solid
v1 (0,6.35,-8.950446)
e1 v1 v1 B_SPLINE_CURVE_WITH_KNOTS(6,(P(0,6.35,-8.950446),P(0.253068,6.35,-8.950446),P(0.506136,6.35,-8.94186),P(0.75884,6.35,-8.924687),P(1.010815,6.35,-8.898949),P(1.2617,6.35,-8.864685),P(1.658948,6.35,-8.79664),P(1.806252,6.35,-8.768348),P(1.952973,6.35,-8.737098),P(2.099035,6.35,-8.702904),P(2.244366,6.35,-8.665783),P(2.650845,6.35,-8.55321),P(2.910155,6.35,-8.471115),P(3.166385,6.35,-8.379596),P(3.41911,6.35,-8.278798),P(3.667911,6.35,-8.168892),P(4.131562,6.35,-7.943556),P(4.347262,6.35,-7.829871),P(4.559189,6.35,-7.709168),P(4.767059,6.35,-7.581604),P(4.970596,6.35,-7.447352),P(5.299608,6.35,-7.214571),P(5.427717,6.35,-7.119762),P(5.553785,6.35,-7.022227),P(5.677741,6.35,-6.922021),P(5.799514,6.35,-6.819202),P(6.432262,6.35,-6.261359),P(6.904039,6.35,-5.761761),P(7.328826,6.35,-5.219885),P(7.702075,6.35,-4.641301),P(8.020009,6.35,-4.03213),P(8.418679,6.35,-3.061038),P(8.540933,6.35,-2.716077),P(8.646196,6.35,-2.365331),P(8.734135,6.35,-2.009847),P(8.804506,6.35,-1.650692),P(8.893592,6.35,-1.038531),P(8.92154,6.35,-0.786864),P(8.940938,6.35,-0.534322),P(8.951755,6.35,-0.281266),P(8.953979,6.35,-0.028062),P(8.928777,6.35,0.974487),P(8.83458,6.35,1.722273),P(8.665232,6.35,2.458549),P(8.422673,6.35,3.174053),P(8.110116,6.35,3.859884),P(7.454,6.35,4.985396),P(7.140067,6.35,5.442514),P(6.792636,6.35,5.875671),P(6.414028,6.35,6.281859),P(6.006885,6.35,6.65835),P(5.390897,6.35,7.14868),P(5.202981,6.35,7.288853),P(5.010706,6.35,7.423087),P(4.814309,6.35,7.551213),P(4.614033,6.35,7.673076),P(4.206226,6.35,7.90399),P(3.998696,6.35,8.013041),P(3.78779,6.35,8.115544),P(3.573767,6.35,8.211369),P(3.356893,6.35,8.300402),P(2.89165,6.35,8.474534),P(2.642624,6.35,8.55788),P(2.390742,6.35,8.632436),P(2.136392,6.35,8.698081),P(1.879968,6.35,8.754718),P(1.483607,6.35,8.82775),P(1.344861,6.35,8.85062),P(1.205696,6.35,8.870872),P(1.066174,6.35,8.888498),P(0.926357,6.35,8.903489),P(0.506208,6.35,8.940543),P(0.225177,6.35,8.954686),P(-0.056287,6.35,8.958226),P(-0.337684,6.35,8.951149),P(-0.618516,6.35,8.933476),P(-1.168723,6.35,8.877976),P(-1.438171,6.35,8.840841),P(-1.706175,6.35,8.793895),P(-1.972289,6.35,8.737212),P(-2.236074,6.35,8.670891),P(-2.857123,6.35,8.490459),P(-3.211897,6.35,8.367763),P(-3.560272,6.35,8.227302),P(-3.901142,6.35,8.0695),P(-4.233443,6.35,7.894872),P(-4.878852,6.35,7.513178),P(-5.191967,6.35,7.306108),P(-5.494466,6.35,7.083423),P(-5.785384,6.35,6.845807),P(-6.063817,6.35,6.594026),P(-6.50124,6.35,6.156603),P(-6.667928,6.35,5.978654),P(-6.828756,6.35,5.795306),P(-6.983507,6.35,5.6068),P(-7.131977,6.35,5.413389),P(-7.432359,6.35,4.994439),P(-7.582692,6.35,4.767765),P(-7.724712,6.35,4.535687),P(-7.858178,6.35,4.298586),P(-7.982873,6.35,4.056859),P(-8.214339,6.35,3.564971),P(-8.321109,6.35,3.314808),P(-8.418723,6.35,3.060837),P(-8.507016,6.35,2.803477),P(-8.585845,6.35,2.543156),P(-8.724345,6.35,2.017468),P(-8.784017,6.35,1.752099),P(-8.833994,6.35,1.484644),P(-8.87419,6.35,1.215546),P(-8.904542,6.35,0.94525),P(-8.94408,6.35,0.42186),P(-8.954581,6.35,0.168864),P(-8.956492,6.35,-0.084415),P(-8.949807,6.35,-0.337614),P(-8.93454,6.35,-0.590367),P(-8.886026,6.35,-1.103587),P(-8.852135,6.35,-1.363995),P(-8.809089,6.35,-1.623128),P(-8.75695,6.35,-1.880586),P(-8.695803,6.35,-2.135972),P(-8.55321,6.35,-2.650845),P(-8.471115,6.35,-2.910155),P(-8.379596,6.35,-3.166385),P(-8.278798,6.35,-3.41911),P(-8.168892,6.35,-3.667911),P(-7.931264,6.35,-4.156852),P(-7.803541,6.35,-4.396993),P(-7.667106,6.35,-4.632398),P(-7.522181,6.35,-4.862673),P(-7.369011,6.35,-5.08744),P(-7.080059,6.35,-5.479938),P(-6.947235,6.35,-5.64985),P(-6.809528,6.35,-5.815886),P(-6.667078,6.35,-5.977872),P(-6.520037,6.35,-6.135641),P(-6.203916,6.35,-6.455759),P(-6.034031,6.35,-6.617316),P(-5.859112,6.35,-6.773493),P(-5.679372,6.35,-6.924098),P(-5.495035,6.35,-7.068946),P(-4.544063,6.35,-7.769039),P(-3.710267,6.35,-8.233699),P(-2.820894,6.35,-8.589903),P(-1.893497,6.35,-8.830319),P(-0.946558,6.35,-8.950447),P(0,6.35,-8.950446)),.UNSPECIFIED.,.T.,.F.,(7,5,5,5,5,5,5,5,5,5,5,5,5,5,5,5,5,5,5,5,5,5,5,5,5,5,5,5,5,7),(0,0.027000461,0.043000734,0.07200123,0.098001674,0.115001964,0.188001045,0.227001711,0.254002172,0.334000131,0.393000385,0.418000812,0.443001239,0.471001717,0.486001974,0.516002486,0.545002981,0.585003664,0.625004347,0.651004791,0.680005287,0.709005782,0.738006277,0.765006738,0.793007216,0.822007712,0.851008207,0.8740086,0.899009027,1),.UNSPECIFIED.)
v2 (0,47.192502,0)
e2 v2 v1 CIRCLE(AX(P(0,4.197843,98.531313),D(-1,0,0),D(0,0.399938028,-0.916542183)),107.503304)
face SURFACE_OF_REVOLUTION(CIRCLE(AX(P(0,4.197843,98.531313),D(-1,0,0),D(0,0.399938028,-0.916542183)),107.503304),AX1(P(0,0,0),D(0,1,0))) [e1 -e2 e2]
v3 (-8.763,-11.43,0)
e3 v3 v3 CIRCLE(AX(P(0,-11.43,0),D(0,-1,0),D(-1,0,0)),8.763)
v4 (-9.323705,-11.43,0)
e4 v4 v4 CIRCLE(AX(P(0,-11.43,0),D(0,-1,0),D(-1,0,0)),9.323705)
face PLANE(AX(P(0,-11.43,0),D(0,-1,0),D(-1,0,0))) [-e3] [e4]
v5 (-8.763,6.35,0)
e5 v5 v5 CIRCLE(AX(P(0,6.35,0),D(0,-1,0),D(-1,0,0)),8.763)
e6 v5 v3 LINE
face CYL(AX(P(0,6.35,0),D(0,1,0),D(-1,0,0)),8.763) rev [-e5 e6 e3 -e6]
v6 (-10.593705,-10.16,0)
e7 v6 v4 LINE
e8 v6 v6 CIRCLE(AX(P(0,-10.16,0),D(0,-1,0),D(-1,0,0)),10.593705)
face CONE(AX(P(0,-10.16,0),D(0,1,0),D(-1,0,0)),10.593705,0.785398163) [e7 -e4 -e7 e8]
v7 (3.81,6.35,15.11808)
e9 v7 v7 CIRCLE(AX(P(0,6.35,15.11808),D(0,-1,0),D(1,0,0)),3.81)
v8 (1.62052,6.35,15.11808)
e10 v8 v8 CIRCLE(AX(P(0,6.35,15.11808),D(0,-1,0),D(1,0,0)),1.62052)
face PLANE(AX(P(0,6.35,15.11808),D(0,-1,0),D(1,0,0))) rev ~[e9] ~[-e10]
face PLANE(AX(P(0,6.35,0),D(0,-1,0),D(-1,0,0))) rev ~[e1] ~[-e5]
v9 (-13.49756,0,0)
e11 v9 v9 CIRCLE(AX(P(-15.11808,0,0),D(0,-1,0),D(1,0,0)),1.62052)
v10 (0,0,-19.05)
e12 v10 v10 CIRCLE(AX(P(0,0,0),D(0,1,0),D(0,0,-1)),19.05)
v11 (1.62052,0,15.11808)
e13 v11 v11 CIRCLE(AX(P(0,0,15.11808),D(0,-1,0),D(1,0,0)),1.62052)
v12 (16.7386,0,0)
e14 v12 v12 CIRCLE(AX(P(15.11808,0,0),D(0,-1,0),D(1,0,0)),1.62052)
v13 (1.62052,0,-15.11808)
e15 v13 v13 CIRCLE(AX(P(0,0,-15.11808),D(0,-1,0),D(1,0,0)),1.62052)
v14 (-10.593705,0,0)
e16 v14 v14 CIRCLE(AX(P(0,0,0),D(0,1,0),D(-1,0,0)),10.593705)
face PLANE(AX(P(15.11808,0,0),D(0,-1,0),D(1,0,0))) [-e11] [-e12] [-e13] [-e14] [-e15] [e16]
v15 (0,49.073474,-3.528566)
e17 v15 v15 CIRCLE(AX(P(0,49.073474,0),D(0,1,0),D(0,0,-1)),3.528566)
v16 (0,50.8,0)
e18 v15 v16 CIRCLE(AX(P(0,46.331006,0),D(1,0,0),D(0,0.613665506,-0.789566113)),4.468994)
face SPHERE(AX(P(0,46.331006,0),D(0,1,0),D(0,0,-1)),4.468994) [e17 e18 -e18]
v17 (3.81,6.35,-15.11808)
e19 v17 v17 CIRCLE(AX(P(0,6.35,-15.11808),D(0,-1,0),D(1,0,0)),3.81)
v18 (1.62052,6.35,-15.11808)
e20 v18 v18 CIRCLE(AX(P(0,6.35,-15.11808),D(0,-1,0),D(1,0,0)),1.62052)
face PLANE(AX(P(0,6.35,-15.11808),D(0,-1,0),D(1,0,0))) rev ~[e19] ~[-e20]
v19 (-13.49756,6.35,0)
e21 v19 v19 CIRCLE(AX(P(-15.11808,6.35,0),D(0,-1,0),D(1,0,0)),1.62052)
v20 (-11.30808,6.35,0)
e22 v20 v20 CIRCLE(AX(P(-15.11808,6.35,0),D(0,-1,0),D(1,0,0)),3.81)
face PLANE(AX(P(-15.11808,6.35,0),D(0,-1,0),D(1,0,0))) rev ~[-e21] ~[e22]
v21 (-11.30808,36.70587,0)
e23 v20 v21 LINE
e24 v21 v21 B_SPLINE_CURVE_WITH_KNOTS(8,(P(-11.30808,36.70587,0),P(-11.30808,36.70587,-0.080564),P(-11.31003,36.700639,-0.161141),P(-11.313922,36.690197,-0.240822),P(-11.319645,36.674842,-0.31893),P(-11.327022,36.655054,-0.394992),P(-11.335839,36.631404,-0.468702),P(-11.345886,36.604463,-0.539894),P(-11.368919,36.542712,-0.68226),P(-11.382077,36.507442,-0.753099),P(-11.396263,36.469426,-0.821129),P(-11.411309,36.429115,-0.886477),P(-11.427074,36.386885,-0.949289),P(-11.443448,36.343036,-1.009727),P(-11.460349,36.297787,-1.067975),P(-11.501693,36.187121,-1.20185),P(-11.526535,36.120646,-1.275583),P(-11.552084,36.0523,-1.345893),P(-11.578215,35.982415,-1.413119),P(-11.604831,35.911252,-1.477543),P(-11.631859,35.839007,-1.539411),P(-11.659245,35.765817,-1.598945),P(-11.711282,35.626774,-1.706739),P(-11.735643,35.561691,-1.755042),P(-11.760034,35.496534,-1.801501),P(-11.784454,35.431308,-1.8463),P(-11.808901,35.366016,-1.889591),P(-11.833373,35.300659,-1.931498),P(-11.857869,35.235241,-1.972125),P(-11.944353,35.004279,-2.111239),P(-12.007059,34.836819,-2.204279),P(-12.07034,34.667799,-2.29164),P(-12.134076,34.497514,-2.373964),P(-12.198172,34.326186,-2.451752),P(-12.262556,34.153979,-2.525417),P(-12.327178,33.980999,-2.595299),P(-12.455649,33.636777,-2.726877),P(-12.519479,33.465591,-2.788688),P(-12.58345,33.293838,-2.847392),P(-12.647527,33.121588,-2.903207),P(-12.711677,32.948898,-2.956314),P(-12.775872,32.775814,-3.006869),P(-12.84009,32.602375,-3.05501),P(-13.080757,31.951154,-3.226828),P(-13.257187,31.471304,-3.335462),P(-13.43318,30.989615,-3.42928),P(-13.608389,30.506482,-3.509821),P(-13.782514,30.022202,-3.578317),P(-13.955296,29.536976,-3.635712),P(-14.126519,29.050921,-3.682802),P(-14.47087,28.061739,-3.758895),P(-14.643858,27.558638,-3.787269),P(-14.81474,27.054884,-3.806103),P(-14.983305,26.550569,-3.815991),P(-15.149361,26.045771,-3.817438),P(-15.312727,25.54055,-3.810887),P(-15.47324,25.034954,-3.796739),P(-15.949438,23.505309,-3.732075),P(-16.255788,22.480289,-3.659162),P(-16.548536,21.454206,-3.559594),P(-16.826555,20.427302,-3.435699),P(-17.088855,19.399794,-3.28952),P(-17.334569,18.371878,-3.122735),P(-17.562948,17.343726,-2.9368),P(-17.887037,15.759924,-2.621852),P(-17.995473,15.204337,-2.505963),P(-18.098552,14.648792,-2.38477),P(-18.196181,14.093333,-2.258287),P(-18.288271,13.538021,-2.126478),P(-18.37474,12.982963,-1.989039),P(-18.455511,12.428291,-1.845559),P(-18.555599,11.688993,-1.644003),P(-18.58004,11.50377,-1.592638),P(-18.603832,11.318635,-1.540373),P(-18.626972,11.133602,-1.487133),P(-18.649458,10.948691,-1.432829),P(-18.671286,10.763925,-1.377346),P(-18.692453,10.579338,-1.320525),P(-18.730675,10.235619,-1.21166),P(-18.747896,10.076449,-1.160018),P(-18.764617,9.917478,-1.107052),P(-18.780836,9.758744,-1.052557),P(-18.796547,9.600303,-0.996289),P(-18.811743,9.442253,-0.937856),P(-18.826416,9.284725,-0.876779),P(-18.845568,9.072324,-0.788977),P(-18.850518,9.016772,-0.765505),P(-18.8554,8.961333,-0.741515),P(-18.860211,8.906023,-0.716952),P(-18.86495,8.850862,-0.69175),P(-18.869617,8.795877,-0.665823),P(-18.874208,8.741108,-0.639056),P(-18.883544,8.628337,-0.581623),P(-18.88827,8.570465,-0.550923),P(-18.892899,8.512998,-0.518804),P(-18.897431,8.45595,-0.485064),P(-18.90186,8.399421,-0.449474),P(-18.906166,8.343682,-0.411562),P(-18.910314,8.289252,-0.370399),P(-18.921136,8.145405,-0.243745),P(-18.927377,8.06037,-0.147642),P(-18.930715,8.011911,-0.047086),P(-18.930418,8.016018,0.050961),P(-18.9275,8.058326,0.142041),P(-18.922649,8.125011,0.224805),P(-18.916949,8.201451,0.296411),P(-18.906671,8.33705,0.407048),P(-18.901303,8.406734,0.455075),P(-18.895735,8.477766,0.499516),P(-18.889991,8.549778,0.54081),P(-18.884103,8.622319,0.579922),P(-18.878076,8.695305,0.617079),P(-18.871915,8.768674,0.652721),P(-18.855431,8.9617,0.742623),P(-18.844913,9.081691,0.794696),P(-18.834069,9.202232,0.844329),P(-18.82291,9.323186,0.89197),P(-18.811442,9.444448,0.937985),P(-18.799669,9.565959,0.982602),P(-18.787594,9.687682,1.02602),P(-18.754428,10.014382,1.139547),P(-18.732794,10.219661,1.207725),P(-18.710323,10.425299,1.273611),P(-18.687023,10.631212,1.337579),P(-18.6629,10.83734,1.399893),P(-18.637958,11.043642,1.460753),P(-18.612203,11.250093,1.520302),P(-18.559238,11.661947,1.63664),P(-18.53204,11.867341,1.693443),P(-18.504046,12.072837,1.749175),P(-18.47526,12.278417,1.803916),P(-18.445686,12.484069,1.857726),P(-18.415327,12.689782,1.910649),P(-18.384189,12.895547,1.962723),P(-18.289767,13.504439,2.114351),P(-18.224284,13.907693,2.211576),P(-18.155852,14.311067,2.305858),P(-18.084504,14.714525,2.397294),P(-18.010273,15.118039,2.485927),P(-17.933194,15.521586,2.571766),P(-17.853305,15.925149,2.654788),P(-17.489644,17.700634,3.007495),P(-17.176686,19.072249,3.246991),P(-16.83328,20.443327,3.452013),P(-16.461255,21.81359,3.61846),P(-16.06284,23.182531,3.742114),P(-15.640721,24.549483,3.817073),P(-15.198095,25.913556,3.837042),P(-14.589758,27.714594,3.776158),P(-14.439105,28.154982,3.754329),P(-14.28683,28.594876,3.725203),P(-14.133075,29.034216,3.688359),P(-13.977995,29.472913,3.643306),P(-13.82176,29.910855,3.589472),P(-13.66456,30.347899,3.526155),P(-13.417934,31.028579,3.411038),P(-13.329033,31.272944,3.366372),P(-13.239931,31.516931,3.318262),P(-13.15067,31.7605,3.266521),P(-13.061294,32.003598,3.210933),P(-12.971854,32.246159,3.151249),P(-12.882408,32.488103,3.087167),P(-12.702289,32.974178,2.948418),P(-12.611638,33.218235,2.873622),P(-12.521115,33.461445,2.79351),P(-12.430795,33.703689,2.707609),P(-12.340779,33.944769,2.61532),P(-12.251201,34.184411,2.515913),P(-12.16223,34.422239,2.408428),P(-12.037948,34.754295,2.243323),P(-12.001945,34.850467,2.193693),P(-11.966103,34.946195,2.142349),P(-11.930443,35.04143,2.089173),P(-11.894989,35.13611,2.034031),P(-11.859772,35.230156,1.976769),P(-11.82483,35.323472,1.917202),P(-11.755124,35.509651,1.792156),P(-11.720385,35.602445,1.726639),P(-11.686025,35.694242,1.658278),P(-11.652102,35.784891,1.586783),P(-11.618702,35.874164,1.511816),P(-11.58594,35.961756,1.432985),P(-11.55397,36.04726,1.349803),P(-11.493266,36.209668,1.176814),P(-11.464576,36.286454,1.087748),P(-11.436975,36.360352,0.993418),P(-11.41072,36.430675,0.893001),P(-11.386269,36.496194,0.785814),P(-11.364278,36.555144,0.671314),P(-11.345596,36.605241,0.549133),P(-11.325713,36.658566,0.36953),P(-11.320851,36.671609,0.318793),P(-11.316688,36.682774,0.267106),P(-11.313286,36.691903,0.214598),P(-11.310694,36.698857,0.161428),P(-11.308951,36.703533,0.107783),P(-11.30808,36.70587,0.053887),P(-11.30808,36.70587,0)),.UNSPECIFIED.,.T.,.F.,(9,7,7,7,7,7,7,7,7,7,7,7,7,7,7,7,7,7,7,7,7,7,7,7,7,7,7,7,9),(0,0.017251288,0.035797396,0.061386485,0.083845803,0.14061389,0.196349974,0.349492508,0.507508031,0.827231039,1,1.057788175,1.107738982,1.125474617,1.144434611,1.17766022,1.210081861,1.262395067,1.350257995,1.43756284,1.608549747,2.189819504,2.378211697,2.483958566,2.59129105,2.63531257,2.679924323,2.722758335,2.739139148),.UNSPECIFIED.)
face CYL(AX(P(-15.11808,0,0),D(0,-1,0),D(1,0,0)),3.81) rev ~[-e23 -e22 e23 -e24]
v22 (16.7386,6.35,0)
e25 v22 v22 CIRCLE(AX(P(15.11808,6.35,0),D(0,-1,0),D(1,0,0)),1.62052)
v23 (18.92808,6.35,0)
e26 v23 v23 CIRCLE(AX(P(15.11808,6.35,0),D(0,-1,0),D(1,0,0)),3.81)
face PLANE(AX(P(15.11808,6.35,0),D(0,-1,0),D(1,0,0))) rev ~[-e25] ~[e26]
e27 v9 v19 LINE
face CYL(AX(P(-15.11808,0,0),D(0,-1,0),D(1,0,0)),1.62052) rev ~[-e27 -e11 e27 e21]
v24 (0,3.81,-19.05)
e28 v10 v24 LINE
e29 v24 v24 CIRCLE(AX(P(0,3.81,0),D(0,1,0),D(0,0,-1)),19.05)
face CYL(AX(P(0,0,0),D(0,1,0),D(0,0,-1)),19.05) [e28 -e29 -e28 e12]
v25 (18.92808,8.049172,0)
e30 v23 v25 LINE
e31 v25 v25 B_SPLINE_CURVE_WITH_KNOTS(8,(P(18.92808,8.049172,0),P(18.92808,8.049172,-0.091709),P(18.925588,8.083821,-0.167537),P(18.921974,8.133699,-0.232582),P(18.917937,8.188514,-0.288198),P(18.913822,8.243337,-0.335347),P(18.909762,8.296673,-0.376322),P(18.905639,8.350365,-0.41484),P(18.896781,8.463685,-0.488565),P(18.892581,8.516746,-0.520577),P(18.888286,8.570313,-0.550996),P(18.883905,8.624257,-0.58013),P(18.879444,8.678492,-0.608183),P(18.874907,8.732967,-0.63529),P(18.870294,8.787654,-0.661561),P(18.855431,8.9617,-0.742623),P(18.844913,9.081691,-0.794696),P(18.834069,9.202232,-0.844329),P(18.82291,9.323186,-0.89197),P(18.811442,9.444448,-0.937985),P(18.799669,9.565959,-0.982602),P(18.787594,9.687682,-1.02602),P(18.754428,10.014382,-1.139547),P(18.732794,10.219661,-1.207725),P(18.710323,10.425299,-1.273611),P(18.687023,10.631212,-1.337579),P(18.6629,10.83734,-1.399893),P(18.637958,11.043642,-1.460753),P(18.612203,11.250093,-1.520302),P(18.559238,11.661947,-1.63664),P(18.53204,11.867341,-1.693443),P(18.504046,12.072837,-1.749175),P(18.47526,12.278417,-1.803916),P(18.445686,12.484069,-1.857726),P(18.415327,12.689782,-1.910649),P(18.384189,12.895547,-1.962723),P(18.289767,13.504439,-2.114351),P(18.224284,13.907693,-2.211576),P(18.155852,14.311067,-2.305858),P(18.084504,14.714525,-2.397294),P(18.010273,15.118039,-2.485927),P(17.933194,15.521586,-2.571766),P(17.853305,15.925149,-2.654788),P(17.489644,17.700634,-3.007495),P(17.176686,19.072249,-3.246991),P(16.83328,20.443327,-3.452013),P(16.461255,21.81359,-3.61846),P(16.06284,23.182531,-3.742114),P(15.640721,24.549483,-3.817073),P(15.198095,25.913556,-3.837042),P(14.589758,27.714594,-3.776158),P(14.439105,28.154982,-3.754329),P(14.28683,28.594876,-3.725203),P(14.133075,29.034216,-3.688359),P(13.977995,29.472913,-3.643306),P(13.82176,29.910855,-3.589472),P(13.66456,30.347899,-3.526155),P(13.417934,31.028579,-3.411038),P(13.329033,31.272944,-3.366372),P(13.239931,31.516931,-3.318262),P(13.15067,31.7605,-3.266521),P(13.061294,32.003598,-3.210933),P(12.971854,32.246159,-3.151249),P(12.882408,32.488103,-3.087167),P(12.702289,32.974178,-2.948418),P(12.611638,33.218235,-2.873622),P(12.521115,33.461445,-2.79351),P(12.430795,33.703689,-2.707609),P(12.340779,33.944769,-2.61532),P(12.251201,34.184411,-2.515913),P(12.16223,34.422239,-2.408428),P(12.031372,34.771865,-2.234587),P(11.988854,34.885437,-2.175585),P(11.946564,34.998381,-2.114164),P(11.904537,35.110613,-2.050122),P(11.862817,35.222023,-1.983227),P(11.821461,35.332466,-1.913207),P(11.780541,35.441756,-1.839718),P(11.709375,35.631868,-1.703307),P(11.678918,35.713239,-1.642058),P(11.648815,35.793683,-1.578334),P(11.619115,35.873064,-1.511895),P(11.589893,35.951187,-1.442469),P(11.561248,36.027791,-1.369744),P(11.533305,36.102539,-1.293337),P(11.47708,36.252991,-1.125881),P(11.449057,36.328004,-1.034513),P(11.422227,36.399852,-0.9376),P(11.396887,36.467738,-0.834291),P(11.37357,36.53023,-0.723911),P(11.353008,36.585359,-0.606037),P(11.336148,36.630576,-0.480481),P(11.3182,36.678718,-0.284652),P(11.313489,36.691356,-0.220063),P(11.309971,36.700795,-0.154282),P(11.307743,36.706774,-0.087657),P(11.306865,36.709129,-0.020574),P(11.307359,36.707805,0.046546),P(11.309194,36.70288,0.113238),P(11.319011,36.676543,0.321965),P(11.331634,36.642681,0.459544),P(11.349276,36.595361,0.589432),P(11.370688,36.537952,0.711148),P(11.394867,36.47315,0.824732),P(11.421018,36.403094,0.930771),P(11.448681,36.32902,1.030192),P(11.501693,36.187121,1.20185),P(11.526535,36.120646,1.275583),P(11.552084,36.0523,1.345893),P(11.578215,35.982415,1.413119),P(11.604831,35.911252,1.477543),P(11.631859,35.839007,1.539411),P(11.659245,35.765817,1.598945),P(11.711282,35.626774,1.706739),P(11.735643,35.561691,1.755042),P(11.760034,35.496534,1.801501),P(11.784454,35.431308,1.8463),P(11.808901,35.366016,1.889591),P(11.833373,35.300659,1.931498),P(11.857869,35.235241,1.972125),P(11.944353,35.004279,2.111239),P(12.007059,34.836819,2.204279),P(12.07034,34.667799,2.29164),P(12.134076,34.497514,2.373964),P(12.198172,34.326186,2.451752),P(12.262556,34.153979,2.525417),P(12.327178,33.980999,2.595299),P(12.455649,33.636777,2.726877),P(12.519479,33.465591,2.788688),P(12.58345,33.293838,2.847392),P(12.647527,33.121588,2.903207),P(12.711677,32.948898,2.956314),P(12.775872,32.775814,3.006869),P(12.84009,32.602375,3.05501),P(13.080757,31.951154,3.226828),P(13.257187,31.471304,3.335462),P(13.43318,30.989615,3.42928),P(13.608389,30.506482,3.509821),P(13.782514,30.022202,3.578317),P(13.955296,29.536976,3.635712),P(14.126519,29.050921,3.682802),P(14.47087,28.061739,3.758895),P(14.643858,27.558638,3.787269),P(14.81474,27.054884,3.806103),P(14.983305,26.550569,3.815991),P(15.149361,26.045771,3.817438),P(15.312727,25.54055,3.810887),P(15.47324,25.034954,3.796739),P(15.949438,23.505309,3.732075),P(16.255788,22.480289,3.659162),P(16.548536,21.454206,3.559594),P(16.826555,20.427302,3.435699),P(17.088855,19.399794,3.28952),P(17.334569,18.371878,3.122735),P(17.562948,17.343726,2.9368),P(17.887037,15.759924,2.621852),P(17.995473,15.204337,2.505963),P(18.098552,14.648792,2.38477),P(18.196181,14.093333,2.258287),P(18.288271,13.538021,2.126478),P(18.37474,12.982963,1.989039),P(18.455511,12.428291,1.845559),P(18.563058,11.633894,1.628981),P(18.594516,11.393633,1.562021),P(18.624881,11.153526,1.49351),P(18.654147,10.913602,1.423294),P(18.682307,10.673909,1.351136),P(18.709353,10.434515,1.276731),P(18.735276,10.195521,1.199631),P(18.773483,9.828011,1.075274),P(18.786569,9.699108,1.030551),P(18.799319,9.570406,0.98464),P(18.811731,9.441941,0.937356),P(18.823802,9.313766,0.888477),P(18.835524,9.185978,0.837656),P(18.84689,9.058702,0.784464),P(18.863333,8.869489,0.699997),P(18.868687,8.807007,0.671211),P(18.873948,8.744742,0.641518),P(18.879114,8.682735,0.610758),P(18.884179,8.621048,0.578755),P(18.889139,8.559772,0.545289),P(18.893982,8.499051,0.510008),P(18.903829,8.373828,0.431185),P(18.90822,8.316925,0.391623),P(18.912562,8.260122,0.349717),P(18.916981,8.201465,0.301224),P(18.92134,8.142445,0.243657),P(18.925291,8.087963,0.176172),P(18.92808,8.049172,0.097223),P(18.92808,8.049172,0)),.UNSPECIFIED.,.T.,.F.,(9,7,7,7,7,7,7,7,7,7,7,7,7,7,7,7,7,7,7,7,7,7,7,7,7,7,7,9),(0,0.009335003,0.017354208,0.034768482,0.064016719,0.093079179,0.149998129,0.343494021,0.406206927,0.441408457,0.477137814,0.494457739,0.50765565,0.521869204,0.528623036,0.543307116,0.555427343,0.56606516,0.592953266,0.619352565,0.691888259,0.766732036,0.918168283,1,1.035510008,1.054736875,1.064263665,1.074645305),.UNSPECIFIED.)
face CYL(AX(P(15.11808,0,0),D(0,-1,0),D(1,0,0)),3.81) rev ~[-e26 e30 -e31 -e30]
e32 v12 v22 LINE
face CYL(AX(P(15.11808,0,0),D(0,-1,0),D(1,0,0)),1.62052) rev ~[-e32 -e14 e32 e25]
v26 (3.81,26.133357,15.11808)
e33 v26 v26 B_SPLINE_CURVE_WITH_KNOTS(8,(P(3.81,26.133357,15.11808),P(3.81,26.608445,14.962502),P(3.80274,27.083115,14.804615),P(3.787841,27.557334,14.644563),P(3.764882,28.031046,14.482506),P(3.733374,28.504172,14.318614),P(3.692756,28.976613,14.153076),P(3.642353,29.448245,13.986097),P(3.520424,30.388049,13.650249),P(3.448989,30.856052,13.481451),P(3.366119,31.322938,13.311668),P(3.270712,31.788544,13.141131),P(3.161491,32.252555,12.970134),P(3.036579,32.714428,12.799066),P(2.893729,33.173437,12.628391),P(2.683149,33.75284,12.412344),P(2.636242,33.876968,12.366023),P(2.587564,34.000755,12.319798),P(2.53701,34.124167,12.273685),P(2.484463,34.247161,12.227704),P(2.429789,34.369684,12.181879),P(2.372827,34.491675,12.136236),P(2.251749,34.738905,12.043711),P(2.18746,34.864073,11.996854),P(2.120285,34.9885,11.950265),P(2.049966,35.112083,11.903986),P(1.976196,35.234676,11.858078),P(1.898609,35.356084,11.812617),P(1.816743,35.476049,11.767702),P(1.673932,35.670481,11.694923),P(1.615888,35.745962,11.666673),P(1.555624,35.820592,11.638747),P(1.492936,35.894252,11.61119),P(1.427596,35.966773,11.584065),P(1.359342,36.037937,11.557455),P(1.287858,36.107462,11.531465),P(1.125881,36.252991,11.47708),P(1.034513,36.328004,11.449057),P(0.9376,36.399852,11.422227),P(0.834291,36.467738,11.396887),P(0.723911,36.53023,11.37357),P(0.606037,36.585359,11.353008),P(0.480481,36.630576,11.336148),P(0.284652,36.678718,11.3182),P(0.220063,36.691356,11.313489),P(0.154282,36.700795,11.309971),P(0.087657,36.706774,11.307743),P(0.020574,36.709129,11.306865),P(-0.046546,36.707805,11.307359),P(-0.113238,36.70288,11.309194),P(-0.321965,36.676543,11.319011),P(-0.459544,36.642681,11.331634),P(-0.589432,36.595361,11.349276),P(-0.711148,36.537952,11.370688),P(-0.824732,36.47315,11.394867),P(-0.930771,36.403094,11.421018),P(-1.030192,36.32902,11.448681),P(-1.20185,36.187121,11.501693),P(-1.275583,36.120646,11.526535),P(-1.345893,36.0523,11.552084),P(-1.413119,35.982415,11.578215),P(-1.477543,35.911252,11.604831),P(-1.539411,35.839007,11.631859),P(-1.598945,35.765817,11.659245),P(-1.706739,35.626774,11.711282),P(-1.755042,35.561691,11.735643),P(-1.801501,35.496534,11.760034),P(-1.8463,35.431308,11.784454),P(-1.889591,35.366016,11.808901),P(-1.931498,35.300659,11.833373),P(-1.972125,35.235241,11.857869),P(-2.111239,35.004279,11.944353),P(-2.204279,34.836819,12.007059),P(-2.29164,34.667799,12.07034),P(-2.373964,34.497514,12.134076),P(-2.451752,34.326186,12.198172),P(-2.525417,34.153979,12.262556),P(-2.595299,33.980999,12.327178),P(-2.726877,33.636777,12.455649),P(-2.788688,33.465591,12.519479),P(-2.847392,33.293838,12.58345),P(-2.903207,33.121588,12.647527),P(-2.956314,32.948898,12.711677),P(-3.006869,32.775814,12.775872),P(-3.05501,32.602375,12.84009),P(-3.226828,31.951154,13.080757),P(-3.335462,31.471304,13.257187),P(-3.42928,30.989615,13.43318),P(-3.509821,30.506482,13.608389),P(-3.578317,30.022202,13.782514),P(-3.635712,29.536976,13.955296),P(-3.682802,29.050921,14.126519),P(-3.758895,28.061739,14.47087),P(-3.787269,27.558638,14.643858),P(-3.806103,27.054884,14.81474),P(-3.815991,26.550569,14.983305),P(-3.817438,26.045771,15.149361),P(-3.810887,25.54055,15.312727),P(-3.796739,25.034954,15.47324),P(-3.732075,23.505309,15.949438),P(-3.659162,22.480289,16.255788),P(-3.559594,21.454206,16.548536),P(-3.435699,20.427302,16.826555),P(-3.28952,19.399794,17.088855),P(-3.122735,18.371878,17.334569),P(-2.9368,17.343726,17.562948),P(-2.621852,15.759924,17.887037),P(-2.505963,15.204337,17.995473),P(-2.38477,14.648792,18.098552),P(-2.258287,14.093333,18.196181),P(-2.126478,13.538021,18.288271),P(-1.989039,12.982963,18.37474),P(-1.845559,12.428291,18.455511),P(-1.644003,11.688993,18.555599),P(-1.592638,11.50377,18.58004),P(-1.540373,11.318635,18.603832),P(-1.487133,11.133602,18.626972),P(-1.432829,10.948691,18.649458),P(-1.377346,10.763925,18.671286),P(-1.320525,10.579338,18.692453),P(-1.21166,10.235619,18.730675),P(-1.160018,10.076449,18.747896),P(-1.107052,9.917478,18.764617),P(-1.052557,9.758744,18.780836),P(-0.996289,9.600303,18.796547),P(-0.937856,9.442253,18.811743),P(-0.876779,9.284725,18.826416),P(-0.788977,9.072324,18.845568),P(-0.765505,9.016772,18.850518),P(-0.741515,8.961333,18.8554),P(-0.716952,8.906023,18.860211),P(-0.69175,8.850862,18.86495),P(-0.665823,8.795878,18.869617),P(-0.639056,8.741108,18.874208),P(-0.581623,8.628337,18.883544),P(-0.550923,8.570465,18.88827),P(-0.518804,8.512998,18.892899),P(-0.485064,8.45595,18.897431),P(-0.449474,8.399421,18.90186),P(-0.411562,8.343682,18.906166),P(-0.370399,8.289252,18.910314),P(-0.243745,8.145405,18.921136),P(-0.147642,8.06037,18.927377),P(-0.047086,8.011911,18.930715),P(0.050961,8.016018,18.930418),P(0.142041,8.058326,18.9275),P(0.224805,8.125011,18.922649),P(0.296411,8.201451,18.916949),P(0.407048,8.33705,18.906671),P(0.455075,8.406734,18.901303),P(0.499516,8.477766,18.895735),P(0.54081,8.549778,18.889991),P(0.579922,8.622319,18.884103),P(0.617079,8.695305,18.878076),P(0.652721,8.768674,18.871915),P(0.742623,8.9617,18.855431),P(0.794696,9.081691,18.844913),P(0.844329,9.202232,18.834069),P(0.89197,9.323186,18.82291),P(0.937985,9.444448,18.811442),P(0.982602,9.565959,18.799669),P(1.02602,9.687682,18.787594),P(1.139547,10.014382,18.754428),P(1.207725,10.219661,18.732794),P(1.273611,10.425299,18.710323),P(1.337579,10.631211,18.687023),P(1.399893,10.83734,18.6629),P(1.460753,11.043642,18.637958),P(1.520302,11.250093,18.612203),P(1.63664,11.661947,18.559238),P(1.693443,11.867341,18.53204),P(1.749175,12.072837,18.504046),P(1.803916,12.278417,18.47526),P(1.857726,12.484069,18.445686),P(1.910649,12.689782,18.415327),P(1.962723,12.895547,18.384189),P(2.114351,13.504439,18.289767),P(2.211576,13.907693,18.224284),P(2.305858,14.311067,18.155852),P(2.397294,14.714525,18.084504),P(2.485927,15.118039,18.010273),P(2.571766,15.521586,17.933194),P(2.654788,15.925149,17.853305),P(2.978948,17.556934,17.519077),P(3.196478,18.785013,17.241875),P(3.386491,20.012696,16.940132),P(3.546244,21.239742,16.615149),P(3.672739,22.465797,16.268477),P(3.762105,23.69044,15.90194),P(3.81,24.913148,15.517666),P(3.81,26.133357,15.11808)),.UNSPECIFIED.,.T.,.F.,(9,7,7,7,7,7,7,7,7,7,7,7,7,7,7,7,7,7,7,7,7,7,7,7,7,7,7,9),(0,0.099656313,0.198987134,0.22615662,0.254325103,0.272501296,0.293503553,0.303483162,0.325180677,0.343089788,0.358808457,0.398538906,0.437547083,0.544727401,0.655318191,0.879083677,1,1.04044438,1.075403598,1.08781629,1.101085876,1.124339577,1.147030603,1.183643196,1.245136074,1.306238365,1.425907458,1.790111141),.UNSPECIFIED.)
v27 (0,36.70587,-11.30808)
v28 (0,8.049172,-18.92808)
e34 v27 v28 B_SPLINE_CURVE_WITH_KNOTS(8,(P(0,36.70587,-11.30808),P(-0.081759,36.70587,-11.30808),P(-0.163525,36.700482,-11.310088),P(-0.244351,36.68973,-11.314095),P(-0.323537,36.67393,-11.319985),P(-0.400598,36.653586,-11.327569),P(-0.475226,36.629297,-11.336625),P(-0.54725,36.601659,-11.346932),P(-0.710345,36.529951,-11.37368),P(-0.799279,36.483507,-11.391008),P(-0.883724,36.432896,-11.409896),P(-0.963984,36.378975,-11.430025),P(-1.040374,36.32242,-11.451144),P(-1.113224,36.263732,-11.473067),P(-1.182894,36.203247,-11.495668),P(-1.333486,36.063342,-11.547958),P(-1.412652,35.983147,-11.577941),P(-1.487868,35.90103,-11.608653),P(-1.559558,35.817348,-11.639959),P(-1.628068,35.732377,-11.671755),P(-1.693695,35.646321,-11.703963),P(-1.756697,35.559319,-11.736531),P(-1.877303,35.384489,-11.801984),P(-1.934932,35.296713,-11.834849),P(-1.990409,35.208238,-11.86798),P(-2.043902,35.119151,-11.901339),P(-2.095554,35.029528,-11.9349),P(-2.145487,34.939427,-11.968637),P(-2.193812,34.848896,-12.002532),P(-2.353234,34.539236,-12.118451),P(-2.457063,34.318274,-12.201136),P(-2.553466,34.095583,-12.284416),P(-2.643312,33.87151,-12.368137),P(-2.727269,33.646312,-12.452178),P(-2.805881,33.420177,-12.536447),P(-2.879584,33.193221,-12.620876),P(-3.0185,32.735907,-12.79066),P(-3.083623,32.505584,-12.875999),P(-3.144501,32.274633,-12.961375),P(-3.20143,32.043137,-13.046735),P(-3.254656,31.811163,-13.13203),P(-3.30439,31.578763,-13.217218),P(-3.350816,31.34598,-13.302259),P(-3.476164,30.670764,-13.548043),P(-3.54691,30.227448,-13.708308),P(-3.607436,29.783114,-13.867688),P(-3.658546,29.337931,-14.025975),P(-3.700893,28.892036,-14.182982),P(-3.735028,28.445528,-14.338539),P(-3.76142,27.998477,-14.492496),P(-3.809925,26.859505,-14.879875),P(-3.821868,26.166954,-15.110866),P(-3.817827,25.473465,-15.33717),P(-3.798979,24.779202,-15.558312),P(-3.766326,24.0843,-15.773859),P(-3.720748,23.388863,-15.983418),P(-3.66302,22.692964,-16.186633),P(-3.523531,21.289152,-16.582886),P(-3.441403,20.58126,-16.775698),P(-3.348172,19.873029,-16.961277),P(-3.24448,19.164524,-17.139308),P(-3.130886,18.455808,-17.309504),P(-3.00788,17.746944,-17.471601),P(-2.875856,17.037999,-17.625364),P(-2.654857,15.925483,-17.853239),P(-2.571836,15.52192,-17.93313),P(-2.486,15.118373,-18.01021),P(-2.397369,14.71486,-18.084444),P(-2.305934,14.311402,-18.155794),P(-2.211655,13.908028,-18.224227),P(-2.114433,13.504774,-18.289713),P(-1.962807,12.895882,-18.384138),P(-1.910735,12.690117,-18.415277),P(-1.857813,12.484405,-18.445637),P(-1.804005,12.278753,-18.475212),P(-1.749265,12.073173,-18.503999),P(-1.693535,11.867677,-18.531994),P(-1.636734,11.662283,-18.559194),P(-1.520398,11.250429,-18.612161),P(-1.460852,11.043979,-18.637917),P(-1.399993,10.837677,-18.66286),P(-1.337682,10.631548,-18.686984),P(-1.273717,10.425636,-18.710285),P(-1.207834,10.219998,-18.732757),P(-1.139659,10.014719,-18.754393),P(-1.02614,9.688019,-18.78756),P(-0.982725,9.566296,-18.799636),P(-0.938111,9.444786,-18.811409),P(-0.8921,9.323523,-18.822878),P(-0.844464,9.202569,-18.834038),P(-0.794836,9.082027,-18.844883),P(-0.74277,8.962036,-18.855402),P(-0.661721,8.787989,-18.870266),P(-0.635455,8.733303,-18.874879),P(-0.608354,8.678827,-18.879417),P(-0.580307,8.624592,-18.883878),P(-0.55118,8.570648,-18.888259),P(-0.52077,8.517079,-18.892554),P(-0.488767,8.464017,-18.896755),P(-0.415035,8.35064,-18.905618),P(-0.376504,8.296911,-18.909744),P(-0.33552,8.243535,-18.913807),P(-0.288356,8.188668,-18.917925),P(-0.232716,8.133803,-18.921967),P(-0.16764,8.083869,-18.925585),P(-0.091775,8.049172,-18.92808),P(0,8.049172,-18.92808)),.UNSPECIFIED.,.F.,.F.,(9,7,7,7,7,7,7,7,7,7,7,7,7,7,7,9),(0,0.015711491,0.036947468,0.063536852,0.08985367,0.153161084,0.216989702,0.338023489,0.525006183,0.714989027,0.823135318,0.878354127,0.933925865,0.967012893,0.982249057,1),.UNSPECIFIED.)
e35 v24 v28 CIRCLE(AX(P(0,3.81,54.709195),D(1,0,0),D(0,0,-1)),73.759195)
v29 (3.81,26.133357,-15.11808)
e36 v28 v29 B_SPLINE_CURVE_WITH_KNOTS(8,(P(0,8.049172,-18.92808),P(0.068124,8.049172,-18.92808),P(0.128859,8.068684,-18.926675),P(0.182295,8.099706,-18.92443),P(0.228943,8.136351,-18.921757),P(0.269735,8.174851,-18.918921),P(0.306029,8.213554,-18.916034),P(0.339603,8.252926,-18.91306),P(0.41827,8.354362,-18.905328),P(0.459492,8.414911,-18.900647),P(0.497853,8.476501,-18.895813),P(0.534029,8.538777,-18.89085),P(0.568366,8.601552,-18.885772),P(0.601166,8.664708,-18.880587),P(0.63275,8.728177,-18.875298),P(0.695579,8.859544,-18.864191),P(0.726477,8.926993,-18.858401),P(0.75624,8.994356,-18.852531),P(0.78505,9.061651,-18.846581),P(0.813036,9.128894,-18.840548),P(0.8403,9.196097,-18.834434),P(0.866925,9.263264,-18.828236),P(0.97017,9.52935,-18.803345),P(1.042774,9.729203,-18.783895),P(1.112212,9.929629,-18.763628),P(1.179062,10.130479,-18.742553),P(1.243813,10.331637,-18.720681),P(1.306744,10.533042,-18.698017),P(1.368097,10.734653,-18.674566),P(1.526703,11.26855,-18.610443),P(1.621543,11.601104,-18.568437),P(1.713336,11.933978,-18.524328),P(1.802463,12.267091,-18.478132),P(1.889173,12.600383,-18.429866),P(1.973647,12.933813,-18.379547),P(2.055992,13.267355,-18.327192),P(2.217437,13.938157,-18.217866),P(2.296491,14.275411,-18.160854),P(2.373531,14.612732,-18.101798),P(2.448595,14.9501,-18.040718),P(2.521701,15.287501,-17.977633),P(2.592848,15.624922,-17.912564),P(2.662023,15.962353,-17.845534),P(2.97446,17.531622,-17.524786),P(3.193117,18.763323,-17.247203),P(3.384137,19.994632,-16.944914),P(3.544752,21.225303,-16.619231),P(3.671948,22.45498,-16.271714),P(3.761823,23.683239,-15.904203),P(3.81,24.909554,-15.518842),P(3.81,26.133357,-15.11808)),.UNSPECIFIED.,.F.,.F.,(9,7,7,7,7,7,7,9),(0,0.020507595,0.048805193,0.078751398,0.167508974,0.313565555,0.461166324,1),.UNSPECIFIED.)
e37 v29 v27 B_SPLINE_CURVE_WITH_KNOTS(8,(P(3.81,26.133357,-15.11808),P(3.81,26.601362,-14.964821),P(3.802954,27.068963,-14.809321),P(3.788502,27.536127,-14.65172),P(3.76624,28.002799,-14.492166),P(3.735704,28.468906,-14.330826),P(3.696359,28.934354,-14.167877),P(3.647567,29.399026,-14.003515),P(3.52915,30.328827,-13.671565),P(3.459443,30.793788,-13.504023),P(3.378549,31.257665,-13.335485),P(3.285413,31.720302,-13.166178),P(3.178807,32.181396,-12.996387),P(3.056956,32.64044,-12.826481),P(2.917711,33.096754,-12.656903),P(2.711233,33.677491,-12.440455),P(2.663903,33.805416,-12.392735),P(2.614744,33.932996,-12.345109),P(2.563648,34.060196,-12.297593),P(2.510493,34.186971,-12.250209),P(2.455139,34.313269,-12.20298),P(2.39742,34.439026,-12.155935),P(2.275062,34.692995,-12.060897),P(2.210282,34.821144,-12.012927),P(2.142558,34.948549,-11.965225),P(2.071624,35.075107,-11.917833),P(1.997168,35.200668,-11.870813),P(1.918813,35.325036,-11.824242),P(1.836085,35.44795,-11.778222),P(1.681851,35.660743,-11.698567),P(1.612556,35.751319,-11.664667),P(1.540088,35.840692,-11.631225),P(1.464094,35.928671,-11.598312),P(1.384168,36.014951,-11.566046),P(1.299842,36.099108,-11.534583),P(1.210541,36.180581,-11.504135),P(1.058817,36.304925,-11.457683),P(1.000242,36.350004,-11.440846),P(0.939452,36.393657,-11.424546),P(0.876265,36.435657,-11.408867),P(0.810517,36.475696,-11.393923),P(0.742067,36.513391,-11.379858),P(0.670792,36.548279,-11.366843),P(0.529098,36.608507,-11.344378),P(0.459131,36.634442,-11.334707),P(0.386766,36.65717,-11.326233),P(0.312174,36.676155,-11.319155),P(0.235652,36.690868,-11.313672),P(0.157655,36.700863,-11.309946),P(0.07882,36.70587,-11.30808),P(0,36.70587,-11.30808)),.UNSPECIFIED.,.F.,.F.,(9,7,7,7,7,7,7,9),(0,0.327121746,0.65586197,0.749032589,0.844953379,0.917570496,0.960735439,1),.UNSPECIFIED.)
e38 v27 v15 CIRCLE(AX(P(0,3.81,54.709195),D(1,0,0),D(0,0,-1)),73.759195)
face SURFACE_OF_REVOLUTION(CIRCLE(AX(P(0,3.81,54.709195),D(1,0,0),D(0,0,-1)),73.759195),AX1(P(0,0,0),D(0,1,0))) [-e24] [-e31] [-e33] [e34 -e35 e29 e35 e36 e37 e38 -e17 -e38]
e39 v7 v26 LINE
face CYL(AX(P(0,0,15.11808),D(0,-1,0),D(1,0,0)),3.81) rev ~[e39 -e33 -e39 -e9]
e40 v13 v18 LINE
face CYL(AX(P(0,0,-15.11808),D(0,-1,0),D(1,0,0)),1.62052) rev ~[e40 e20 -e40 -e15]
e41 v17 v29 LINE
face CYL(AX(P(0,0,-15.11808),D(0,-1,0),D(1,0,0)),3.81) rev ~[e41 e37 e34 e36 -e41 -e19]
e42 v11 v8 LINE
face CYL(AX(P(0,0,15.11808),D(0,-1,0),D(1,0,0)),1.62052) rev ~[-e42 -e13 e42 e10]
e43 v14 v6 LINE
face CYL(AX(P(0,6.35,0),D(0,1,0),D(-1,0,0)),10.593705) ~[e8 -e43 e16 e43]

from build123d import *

# Parameters (mm, degrees)
SKETCH3_R           = 3.81
CUT_EXTRUDE1_DEPTH  = 58.501695693
SKETCH5_R           = 10.593705
SKETCH5_R_2         = 8.763
BOSS_EXTRUDE7_DEPTH = 17.78
SKETCH3_4_R         = 3.81
SKETCH3_4_R_2       = 1.62052
BOSS_EXTRUDE8_DEPTH = 6.35
CHAMFER1_SIZE       = 1.27


with BuildPart() as part:
    # Sketch2 → Revolve1 (revolve)
    with BuildSketch(Plane(origin=(0, 0, 0), x_dir=(0, 0, -1), z_dir=(1, 0, 0))):
        with BuildLine():
            Line((0, 50.8), (0, 47.192501809))
            ThreePointArc((0, 47.192501809), (7.113867191, 24.099005122), (8.89, 0))
            Line((8.89, 0), (19.05, 0))
            Line((19.05, 0), (19.05, 3.81))
            ThreePointArc((19.05, 3.81), (15.061820516, 27.735389015), (3.528565936, 49.073473604))
            ThreePointArc((3.528565936, 49.073473604), (1.964158278, 50.345229375), (0, 50.8))
        make_face()
    revolve(axis=Axis((0, 0, 0), (0, 1, 0)))

    # Sketch3 → Cut-Extrude1 (cut, through all)
    with BuildSketch(Plane.XZ):
        with Locations((15.11808, 0)):
            Circle(SKETCH3_R)
        with Locations((0, -15.11808)):
            Circle(SKETCH3_R)
        with Locations((-15.11808, 0)):
            Circle(SKETCH3_R)
        with Locations((0, 15.11808)):
            Circle(SKETCH3_R)
    extrude(amount=-CUT_EXTRUDE1_DEPTH, mode=Mode.SUBTRACT)

    # Sketch5 → Boss-Extrude7 (add)
    with BuildSketch(Plane(origin=(0, 6.35, 0), x_dir=(-1, 0, 0), z_dir=(0, -1, 0))):
        Circle(SKETCH5_R)
        Circle(SKETCH5_R_2, mode=Mode.SUBTRACT)
    extrude(amount=BOSS_EXTRUDE7_DEPTH)

    # Sketch3<4> → Boss-Extrude8 (add)
    # profile 1 of 4: a face of its own
    with BuildSketch(Plane.XZ):
        with Locations((15.11808, 0)):
            Circle(SKETCH3_4_R)
        with Locations((15.11808, 0)):
            Circle(SKETCH3_4_R_2, mode=Mode.SUBTRACT)
    # profile 2 of 4: a face of its own
    with BuildSketch(Plane.XZ):
        with Locations((0, -15.11808)):
            Circle(SKETCH3_4_R)
        with Locations((0, -15.11808)):
            Circle(SKETCH3_4_R_2, mode=Mode.SUBTRACT)
    # profile 3 of 4: a face of its own
    with BuildSketch(Plane.XZ):
        with Locations((-15.11808, 0)):
            Circle(SKETCH3_4_R)
        with Locations((-15.11808, 0)):
            Circle(SKETCH3_4_R_2, mode=Mode.SUBTRACT)
    # profile 4 of 4: a face of its own
    with BuildSketch(Plane.XZ):
        with Locations((0, 15.11808)):
            Circle(SKETCH3_4_R)
        with Locations((0, 15.11808)):
            Circle(SKETCH3_4_R_2, mode=Mode.SUBTRACT)
    extrude(amount=-BOSS_EXTRUDE8_DEPTH)

    # Chamfer1
    chamfer1_edges = [part.edges().sort_by_distance(p)[0] for p in [
        (10.593705, -11.43, 0),
    ]]
    chamfer(chamfer1_edges, length=CHAMFER1_SIZE)


solid = part.part
